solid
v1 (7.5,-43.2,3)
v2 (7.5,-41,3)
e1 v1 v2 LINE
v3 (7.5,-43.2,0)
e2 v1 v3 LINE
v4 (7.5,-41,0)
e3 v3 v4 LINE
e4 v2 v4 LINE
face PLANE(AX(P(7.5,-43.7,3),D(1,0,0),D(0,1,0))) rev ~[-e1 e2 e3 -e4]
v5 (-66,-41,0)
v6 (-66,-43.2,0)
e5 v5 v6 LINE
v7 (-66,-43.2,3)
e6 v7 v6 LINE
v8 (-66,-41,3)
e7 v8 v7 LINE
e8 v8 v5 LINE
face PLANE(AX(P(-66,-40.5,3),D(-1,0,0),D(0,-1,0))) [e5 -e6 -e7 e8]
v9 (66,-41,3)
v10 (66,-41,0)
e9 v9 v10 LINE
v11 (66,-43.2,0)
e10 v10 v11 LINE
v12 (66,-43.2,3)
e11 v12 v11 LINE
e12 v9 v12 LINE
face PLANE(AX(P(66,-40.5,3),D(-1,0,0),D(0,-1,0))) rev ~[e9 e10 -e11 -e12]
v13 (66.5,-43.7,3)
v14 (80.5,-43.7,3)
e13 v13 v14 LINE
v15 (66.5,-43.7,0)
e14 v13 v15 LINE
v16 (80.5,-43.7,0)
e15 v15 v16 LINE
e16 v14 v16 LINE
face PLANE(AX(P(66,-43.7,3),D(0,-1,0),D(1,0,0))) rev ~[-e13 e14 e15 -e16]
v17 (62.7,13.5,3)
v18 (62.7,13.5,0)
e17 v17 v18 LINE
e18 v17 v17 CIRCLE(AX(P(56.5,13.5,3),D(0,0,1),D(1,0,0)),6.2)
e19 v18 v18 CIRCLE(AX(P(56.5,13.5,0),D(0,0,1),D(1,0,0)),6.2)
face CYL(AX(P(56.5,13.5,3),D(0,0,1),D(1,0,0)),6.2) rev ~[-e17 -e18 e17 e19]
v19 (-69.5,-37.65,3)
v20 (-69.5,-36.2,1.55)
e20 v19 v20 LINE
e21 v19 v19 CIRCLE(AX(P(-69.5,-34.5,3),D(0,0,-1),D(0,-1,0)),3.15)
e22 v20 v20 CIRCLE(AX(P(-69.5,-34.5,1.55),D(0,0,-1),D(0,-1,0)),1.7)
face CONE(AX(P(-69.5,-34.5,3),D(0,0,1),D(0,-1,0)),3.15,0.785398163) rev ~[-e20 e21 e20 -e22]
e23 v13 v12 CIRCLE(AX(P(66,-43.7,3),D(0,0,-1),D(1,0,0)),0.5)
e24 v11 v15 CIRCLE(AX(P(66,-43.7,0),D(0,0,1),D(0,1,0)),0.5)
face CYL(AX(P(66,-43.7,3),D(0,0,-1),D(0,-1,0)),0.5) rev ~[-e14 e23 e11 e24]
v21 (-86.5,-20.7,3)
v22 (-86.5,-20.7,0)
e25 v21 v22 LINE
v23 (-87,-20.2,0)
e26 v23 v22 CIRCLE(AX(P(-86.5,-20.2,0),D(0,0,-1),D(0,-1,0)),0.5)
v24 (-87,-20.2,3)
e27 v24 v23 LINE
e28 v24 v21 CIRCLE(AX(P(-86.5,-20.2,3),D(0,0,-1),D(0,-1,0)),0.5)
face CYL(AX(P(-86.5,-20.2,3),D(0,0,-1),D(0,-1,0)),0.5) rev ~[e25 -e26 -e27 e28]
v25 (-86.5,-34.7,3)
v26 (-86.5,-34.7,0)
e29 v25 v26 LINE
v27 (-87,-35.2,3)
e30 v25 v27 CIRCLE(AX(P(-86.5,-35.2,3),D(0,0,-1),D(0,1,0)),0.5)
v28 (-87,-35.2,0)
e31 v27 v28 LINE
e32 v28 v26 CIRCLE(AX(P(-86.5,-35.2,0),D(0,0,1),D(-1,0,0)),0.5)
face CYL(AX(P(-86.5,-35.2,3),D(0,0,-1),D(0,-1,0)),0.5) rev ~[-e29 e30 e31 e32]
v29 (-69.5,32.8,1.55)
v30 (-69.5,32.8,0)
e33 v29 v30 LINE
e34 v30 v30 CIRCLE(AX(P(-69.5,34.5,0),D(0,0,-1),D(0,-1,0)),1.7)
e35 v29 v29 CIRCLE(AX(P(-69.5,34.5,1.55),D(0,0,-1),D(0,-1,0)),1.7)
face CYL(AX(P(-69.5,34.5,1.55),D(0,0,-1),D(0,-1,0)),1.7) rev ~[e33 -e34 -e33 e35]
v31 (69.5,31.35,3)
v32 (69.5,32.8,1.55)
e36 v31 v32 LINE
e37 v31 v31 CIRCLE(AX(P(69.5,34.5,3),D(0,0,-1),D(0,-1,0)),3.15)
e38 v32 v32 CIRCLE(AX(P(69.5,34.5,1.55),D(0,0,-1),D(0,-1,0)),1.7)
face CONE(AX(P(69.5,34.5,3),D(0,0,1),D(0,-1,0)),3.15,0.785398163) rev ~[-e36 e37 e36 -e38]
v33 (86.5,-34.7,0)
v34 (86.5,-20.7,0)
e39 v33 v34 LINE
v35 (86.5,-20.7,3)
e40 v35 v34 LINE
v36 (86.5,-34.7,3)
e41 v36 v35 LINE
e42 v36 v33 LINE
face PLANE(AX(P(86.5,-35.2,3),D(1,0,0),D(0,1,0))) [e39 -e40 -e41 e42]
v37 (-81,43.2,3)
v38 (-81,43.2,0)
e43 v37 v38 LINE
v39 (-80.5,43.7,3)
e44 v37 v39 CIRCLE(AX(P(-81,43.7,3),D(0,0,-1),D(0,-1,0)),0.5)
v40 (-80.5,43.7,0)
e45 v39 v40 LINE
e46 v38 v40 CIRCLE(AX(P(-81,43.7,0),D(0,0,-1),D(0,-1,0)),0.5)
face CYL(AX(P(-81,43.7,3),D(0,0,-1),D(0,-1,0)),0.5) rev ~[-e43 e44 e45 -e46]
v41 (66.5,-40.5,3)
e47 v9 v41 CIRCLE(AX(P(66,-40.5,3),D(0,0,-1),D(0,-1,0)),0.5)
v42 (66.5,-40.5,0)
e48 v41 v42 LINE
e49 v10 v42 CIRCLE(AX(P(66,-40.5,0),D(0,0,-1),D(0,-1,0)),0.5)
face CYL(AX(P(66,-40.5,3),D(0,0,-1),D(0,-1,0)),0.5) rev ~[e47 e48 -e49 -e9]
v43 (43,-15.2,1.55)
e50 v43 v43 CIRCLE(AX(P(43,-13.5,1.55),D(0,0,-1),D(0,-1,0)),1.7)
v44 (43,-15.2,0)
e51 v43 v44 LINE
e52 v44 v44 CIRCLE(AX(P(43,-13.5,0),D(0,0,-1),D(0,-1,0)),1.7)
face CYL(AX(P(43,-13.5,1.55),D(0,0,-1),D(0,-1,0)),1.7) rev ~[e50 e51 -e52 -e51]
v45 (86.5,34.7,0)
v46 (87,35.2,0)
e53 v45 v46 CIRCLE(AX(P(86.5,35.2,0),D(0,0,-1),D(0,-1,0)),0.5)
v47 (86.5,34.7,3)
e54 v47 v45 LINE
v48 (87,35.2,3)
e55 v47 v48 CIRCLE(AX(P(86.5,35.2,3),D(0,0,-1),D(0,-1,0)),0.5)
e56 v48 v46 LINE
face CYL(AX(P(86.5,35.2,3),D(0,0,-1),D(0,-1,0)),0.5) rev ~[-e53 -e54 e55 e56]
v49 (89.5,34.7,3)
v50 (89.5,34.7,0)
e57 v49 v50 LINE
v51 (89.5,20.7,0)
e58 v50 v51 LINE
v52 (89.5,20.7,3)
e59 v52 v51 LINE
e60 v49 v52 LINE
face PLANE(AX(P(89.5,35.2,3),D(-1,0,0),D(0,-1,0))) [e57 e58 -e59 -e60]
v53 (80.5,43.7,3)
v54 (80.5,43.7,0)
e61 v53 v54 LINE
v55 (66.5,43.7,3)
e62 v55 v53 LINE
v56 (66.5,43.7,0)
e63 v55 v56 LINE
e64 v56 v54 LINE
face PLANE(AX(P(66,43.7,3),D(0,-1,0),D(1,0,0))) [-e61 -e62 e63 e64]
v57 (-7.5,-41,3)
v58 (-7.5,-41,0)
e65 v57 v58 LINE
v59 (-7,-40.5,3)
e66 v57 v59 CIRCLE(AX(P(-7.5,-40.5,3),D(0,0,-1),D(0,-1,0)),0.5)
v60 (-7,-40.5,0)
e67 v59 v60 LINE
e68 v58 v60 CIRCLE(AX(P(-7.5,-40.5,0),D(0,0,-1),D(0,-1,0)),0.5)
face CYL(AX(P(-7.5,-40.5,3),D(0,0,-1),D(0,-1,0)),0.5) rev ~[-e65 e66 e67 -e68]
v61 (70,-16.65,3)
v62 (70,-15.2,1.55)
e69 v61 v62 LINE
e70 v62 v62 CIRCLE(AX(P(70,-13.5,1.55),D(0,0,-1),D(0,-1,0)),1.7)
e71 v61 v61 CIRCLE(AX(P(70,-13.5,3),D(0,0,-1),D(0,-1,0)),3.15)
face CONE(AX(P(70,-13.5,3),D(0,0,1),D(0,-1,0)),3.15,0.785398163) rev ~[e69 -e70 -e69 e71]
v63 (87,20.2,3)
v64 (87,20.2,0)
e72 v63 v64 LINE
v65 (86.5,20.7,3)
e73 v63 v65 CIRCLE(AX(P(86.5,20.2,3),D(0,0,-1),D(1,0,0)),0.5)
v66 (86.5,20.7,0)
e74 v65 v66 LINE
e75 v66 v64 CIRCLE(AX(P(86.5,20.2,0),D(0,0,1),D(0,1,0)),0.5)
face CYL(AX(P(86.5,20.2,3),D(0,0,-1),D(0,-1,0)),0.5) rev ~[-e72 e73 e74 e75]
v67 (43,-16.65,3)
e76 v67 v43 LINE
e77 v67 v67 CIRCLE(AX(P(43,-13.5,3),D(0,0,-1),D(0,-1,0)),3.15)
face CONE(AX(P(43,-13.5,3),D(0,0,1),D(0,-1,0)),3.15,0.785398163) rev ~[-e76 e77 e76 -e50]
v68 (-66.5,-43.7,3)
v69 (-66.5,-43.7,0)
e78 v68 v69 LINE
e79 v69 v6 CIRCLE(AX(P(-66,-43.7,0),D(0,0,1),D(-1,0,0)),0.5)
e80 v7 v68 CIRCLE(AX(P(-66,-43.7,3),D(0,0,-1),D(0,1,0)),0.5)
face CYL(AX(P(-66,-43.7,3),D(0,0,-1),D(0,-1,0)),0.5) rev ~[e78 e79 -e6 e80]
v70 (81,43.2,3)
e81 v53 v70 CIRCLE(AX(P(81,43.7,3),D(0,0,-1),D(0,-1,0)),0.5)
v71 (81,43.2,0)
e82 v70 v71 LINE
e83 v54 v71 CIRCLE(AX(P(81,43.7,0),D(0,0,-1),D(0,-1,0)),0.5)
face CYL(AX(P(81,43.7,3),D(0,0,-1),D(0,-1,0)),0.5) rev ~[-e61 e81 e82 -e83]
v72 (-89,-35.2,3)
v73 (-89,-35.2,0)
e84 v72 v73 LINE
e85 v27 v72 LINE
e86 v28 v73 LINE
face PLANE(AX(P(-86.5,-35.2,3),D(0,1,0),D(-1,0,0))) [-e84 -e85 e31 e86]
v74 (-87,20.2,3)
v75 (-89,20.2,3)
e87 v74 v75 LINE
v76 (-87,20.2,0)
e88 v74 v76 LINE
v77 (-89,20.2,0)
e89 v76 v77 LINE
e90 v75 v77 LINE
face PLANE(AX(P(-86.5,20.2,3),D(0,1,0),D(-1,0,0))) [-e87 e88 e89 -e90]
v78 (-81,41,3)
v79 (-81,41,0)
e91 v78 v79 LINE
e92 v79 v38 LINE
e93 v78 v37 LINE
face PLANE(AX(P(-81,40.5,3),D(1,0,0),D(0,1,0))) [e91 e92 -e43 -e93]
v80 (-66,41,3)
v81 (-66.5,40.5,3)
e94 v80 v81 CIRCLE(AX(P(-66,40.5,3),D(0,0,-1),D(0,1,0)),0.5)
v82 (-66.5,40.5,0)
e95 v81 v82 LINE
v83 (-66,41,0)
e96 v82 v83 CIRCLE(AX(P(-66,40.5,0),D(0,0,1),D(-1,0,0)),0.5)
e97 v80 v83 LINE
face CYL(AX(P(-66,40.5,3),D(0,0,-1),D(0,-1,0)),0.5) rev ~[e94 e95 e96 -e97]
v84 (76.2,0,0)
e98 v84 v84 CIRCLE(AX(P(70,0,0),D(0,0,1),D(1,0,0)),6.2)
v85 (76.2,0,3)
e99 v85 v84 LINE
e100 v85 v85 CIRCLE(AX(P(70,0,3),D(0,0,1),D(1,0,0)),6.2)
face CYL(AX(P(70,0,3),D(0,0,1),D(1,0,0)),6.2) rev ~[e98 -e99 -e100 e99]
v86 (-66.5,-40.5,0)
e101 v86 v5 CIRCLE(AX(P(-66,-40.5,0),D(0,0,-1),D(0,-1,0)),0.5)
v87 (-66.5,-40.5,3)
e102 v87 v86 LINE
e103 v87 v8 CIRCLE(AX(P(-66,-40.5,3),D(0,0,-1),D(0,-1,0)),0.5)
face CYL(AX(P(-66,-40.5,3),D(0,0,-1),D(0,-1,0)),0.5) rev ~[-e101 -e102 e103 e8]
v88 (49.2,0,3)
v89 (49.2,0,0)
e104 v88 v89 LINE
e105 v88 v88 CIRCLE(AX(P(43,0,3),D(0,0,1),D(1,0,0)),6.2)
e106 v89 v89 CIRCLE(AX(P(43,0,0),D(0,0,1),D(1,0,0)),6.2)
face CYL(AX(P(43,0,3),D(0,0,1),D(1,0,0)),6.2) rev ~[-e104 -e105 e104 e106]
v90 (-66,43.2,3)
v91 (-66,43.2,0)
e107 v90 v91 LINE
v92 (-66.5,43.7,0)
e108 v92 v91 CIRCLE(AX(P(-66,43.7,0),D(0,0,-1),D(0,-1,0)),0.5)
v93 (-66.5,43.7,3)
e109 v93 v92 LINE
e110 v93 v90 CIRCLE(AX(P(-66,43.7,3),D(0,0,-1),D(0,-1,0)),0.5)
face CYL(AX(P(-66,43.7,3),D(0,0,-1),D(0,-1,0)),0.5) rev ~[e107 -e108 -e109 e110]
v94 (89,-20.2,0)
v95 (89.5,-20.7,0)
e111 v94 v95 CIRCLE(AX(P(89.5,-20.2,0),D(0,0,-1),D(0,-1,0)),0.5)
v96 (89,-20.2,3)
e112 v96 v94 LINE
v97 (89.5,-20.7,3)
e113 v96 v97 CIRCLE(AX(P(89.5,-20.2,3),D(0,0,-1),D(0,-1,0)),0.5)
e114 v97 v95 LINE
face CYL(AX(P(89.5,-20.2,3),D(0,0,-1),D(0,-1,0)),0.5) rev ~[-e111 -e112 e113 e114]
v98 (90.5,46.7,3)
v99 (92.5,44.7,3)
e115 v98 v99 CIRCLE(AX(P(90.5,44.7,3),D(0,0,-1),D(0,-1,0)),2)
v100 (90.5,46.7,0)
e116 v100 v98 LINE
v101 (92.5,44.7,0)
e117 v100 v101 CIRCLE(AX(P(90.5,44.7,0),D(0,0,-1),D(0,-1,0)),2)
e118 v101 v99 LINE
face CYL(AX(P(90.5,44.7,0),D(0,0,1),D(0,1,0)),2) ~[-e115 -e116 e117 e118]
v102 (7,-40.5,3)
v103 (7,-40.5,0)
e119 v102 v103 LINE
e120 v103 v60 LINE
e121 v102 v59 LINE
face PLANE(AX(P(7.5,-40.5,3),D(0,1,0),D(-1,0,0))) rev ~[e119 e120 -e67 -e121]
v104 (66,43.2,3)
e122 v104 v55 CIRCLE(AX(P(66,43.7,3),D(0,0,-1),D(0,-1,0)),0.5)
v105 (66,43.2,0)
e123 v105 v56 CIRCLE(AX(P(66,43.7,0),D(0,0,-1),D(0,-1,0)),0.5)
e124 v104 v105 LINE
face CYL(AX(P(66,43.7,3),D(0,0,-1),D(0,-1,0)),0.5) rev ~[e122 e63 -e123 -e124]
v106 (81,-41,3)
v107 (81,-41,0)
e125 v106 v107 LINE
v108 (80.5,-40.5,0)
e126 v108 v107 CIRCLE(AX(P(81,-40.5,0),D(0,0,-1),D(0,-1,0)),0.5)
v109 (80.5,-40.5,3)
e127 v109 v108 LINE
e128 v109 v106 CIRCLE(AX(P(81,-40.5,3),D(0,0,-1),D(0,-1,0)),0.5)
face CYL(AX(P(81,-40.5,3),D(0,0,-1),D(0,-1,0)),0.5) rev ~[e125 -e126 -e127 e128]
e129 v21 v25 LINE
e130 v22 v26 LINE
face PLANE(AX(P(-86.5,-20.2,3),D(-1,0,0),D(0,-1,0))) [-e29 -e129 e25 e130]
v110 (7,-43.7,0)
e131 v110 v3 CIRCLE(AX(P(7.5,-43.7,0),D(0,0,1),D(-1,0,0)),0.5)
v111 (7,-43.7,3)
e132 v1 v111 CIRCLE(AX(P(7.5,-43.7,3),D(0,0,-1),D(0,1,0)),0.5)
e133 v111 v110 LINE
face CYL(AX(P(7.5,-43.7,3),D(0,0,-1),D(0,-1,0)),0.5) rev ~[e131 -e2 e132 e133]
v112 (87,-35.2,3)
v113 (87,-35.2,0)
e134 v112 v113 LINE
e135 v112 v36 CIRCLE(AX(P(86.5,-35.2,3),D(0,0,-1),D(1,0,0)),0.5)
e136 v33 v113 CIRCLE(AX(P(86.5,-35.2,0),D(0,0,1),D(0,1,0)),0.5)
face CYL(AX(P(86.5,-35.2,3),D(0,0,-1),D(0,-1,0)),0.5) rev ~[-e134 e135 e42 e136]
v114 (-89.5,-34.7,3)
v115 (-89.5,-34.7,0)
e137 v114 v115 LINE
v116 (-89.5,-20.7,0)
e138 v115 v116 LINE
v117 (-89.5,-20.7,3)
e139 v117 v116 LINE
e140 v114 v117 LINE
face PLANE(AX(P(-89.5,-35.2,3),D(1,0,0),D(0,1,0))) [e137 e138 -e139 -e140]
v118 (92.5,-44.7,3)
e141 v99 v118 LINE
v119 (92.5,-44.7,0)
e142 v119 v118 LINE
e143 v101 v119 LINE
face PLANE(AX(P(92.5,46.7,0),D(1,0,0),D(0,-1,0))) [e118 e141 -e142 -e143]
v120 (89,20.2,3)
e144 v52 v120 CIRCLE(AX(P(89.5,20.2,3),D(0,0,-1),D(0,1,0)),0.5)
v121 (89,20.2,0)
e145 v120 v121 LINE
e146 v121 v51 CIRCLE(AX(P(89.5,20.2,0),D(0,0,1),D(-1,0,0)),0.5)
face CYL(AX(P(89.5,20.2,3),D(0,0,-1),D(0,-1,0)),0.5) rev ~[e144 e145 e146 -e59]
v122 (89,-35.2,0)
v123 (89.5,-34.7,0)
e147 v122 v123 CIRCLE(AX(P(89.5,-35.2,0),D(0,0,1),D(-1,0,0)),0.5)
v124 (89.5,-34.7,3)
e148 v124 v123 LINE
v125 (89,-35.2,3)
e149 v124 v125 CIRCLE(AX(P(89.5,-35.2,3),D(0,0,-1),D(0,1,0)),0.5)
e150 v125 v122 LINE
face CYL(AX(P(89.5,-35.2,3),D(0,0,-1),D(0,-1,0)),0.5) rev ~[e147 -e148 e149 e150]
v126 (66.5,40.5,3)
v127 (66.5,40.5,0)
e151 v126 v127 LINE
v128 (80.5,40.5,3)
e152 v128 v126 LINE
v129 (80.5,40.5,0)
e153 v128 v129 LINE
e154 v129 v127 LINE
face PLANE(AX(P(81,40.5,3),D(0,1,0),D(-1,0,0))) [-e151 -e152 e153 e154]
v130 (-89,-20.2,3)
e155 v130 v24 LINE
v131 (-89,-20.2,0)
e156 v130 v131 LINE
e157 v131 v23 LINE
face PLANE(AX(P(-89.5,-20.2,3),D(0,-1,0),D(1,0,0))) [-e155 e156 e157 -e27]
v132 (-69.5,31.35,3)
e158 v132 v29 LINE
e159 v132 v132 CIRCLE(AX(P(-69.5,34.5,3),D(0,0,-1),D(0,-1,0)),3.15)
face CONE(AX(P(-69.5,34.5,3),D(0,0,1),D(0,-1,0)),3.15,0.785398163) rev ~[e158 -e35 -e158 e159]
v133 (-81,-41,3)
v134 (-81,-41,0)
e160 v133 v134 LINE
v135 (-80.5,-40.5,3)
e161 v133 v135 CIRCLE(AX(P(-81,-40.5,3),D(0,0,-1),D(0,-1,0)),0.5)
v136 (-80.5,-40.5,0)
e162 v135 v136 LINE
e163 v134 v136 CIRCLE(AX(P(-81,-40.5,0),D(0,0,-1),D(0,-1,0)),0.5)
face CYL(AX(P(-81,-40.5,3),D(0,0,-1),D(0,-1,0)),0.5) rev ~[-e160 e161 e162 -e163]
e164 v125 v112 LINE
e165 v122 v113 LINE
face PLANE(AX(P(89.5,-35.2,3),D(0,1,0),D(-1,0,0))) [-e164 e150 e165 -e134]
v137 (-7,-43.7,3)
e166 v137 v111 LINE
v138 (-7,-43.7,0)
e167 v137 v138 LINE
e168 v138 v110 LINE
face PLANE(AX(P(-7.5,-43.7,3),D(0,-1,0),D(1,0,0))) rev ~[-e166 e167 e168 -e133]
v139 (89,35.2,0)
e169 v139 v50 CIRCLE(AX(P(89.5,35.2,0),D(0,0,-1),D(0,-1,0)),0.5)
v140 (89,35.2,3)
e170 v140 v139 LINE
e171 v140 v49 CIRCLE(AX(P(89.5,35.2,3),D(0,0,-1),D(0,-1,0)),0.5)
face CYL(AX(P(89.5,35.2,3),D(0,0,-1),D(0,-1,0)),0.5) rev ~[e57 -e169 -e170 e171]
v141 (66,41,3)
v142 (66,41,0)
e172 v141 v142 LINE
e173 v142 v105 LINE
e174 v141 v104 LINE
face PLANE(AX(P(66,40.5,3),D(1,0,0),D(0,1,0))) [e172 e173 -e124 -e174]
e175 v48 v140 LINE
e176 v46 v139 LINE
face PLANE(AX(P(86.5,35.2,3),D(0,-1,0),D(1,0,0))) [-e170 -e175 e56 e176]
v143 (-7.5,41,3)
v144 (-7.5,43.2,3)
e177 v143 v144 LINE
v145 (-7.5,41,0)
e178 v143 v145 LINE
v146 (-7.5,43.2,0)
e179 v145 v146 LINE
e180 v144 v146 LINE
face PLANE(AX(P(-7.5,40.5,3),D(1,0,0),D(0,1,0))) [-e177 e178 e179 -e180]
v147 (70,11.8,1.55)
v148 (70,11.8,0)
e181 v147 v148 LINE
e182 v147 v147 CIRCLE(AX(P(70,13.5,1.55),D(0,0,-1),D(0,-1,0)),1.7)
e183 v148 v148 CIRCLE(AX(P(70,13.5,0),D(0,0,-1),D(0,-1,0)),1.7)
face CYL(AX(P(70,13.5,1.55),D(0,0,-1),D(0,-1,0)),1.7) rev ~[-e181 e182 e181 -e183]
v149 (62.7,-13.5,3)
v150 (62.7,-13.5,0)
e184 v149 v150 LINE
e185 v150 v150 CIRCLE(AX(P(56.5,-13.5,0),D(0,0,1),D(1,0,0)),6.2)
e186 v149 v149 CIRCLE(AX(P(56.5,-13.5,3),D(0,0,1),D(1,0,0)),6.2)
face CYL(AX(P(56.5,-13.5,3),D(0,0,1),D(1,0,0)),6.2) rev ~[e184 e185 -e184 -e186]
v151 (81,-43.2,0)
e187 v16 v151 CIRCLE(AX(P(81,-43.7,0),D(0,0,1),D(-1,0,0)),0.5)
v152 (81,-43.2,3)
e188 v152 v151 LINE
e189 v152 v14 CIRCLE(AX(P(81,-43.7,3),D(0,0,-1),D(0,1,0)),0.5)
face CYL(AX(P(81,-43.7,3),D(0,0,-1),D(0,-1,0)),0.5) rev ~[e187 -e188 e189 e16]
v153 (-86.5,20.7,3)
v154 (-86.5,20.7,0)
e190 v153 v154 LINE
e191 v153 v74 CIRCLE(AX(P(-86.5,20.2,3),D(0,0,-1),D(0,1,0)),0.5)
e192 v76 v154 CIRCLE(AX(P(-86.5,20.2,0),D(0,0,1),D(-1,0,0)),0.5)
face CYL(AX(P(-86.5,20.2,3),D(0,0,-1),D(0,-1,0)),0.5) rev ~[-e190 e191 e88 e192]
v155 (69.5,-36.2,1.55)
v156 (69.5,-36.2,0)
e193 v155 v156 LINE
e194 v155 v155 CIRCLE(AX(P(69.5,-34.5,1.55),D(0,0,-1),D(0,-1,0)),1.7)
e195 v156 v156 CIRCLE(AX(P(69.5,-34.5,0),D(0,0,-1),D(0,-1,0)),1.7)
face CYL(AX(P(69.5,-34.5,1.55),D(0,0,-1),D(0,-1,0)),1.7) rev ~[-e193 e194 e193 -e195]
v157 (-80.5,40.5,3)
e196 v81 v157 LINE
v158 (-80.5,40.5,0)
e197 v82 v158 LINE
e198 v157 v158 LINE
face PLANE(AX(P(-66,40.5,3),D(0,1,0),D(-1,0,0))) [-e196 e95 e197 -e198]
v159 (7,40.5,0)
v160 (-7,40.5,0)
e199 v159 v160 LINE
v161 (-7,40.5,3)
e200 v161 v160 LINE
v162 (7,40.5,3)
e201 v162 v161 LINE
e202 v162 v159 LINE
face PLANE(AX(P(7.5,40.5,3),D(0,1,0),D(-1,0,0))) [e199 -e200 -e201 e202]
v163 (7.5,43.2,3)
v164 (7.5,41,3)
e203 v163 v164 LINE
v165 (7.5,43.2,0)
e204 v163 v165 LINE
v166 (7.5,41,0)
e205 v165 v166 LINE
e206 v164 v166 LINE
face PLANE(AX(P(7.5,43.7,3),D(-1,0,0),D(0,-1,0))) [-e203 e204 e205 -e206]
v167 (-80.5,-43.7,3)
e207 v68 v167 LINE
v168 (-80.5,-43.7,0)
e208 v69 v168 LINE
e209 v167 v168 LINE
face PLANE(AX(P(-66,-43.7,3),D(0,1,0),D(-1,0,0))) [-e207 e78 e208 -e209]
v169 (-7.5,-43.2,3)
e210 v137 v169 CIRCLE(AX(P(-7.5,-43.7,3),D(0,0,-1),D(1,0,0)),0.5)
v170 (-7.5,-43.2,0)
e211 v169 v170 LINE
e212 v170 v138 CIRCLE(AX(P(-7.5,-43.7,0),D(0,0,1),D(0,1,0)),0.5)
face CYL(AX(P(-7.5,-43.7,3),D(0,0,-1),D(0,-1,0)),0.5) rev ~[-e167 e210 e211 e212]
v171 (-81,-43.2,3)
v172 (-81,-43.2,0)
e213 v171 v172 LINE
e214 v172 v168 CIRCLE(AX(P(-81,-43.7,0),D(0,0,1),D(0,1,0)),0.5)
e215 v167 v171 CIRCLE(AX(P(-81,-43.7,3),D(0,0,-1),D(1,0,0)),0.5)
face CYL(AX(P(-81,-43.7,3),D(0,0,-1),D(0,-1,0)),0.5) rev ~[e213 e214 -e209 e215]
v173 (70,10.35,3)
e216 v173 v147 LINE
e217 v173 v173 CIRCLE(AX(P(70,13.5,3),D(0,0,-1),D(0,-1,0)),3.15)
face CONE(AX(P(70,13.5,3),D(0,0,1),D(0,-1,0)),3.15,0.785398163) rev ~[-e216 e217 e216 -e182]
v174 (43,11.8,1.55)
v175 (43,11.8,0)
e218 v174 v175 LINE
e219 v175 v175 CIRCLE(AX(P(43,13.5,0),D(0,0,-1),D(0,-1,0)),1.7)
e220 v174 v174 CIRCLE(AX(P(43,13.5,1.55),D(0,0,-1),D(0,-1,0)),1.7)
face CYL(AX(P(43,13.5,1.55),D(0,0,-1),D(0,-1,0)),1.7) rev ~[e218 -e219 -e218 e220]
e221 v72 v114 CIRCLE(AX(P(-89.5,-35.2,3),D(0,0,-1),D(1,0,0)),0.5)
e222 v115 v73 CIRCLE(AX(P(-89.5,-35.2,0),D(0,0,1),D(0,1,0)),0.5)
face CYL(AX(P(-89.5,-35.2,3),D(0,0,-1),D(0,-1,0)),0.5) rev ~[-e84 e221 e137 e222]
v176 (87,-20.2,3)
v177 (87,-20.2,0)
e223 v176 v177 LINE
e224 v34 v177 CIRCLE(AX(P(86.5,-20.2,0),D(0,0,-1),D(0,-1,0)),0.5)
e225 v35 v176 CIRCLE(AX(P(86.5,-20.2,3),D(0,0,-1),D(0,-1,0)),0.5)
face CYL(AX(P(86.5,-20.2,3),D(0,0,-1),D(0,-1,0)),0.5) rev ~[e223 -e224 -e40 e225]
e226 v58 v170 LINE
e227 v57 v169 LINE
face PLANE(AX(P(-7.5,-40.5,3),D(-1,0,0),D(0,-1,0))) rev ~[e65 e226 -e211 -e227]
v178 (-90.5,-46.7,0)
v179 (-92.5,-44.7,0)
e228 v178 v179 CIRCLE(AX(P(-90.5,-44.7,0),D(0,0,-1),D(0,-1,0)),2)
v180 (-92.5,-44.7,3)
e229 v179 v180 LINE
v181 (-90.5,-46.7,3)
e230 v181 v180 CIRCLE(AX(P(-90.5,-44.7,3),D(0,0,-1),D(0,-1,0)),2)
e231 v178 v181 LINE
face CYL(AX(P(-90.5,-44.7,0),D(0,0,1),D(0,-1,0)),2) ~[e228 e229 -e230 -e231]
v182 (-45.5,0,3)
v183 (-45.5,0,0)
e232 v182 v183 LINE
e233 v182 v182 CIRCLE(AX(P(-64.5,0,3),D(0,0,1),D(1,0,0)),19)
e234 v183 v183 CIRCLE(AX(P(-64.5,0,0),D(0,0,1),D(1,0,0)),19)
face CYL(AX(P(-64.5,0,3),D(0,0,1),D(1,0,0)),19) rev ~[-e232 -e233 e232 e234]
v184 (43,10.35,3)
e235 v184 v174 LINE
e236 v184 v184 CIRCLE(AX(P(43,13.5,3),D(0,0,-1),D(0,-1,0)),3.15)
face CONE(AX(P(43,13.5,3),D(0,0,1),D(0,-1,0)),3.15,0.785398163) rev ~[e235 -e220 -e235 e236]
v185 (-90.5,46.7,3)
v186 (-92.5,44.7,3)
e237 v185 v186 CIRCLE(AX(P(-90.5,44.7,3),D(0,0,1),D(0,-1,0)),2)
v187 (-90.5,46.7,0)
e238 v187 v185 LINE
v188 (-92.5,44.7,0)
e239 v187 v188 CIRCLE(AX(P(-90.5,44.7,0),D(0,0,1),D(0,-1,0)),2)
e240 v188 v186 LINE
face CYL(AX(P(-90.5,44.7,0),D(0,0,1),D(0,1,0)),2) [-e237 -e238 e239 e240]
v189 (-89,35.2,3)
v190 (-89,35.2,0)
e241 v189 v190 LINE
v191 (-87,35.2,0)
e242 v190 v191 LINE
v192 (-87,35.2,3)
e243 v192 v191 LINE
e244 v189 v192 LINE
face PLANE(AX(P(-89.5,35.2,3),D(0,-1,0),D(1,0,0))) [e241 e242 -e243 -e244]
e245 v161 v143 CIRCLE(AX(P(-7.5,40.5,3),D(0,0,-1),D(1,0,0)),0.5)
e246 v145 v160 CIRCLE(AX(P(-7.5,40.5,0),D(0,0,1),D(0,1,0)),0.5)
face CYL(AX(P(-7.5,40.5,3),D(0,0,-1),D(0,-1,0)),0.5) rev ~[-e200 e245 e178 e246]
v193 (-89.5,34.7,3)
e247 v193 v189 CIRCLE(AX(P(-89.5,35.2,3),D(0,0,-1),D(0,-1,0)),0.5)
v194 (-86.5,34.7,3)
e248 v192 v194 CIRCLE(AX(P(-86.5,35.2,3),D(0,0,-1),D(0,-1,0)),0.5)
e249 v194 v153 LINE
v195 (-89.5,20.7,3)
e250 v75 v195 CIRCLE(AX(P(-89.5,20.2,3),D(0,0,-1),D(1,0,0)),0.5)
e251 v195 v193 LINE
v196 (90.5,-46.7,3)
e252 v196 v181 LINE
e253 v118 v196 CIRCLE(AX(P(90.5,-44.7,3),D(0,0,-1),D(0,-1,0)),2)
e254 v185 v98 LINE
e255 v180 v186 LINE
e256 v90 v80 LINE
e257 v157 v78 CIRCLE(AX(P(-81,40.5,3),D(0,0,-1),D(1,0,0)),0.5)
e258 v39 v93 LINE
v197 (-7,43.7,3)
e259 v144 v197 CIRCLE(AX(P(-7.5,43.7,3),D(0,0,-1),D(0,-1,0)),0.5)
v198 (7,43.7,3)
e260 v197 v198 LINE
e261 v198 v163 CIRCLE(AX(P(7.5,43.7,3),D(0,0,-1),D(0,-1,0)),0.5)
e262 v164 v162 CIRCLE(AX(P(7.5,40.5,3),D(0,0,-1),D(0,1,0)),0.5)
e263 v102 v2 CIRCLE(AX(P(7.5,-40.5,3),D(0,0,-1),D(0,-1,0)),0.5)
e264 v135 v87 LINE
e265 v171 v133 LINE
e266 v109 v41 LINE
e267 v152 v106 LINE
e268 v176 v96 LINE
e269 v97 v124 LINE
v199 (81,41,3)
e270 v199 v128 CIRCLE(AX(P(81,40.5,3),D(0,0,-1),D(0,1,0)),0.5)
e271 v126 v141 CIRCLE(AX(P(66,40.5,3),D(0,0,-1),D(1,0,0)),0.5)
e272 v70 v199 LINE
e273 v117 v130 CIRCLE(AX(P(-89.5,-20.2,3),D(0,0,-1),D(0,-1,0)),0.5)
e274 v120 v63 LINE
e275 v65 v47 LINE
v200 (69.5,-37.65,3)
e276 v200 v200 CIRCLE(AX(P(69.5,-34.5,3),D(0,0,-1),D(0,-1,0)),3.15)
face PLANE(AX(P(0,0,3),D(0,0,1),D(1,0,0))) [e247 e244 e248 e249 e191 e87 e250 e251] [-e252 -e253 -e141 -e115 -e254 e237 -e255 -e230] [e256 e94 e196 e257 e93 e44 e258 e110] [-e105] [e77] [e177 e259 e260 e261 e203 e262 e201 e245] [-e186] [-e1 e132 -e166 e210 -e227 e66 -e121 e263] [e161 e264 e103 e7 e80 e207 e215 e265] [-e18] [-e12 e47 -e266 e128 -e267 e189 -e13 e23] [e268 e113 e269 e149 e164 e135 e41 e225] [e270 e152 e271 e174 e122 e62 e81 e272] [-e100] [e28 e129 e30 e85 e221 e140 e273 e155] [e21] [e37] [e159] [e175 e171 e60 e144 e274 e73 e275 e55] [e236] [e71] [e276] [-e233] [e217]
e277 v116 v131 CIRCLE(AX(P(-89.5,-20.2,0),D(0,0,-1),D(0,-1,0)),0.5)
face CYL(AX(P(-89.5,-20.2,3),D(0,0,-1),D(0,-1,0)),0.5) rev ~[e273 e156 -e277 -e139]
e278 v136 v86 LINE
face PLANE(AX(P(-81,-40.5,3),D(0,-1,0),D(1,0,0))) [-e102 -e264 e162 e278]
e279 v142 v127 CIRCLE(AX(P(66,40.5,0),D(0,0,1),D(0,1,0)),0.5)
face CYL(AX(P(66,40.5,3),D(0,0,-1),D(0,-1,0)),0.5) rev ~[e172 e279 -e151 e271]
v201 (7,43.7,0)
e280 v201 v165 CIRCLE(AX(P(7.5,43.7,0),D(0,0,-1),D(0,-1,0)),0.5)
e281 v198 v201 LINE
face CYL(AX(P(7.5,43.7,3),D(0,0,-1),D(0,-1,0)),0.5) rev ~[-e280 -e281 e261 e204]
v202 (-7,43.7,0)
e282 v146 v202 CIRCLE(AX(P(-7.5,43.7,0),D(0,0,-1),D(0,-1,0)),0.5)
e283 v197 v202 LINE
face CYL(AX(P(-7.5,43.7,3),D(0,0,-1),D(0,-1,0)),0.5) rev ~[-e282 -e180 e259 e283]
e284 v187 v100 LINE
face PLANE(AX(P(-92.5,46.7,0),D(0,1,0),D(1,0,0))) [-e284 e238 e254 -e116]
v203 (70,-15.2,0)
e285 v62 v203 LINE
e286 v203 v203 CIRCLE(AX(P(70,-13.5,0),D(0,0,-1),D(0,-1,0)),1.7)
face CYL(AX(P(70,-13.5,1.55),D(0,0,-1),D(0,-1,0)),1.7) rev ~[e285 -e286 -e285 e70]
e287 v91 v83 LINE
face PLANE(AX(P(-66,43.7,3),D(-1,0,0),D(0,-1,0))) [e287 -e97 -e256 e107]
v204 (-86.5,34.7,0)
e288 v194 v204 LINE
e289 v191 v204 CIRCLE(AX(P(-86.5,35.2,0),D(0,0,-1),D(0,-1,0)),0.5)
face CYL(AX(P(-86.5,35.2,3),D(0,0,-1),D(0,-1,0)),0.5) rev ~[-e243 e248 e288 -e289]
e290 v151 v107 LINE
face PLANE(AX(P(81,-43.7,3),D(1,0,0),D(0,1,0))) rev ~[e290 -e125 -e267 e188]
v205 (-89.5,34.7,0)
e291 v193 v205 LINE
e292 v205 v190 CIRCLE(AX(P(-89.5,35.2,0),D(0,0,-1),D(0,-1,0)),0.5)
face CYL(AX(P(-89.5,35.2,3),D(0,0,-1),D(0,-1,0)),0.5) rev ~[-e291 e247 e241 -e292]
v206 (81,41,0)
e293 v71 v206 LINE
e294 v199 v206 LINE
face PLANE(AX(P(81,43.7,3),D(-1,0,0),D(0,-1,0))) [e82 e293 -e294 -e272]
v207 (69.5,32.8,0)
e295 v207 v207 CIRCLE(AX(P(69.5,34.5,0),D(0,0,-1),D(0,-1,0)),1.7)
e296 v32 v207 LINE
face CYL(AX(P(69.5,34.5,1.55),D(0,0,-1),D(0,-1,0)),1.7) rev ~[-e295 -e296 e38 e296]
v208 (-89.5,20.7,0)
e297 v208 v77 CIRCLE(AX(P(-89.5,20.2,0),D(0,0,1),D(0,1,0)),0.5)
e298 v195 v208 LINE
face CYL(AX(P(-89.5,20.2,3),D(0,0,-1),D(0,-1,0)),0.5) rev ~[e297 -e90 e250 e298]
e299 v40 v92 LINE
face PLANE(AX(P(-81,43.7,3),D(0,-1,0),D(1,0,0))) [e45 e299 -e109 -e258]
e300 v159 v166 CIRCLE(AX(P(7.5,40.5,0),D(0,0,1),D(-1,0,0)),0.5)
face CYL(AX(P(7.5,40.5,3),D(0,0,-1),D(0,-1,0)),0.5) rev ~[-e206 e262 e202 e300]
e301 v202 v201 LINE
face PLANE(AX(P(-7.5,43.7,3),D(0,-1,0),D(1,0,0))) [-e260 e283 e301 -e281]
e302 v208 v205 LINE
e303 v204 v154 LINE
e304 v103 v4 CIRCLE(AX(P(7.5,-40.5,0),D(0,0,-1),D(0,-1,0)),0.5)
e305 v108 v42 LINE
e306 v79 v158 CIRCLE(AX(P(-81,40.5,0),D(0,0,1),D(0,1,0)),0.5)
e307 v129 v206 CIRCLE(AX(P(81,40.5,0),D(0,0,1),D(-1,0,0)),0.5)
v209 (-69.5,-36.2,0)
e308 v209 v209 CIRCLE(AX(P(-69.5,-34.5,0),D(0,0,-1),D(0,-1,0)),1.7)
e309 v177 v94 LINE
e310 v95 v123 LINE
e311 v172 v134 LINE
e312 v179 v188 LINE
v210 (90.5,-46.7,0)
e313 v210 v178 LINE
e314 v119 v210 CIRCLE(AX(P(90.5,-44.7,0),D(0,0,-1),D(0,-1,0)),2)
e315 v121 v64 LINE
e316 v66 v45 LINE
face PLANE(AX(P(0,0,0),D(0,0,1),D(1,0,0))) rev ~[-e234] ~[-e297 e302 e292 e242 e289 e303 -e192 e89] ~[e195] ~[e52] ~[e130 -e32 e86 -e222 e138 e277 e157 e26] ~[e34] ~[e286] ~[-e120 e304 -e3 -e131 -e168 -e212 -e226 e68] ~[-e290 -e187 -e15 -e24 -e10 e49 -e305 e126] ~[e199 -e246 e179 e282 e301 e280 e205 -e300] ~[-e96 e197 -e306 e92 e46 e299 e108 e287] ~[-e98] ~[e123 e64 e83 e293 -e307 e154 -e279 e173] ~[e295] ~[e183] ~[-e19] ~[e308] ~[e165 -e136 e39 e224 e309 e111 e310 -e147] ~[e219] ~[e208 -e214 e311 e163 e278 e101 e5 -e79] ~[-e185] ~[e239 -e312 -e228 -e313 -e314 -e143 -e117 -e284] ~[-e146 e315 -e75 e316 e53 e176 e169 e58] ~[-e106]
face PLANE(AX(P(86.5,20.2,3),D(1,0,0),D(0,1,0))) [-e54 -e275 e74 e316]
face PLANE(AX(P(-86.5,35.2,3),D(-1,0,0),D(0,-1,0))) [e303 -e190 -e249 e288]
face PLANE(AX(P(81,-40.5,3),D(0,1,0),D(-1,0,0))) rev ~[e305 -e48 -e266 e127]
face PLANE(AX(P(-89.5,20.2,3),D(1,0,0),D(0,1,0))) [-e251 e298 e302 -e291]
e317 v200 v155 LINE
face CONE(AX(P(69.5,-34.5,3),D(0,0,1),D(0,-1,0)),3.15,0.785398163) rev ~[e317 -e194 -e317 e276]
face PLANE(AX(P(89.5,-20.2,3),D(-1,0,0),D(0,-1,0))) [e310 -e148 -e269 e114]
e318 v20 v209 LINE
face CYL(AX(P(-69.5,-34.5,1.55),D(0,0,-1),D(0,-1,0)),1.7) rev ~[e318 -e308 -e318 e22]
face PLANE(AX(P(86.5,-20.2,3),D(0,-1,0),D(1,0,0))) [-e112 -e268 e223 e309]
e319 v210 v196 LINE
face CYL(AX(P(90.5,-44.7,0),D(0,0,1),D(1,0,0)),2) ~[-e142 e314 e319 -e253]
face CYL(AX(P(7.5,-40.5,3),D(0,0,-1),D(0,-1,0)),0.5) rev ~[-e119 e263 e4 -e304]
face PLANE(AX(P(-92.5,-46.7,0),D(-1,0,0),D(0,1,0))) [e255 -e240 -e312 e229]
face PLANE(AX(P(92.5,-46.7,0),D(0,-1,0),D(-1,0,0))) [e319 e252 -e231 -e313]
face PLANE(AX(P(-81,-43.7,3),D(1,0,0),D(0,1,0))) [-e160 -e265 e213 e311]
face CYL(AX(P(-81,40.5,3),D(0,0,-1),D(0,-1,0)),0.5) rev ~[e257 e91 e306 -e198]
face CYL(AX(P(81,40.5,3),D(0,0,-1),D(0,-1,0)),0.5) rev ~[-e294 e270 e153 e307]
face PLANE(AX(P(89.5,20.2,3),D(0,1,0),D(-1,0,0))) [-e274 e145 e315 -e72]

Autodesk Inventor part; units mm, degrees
ref_plane "Plan YZ" through (0, 0, 0) normal (1, 0, 0) x (0, 1, 0)
ref_plane "Plan XZ" through (0, 0, 0) normal (0, 1, 0) x (-1, 0, 0)
ref_plane "Plan XY" through (0, 0, 0) normal (0, 0, 1) x (1, 0, 0)
sketch "Esquisse1" plane through (0, 0, 0) normal (0, 0, 1) x (1, 0, 0)
  line L0 (-92.5, 46.7) -> (92.5, 46.7)
  line L1 (92.5, 46.7) -> (92.5, -46.7)
  line L2 (92.5, -46.7) -> (-92.5, -46.7)
  line L3 (-92.5, -46.7) -> (-92.5, 46.7)
  line L4 (0, -65.38) -> (0, 65.38) construction
  line L5 (-129.5, 0) -> (129.5, 0) construction
  point P0 (0, 0)
  dimension "d0" = 185
  dimension "d1" = 93.4
extrude "Extrusion1" add sketch "Esquisse1" along normal blind 3
fillet "Congé1" radius 2 4 edges at (-92.5, 46.7, 1.5) (92.5, 46.7, 1.5) (92.5, -46.7, 1.5) (-92.5, -46.7, 1.5)
sketch "Esquisse21" plane through (0, 0, 3) normal (0, 0, 1) x (1, 0, 0)
  line L0 (-131.9, 0) -> (129.9, 0) construction
  line L1 (0, -65.38) -> (0, 65.38) construction
  line L2 (-7.5, 43.7) -> (7.5, 43.7)
  line L3 (7.5, 43.7) -> (7.5, 40.5)
  line L4 (7.5, 40.5) -> (-7.5, 40.5)
  line L5 (-7.5, 40.5) -> (-7.5, 43.7)
  line L6 (-90.5, 46.7) -> (90.5, 46.7) construction
  line L7 (-81, 43.7) -> (-66, 43.7)
  line L8 (-66, 43.7) -> (-66, 40.5)
  line L9 (-66, 40.5) -> (-81, 40.5)
  line L10 (-81, 40.5) -> (-81, 43.7)
  line L11 (-92.5, -44.7) -> (-92.5, 44.7) construction
  line L12 (66, 43.7) -> (81, 43.7)
  line L13 (81, 43.7) -> (81, 40.5)
  line L14 (81, 40.5) -> (66, 40.5)
  line L15 (66, 40.5) -> (66, 43.7)
  line L16 (-81, -40.5) -> (-66, -40.5)
  line L17 (-66, -40.5) -> (-66, -43.7)
  line L18 (-66, -43.7) -> (-81, -43.7)
  line L19 (-81, -43.7) -> (-81, -40.5)
  line L20 (-7.5, -43.7) -> (7.5, -43.7)
  line L21 (7.5, -43.7) -> (7.5, -40.5)
  line L22 (7.5, -40.5) -> (-7.5, -40.5)
  line L23 (-7.5, -40.5) -> (-7.5, -43.7)
  line L24 (66, -43.7) -> (81, -43.7)
  line L25 (81, -43.7) -> (81, -40.5)
  line L26 (81, -40.5) -> (66, -40.5)
  line L27 (66, -40.5) -> (66, -43.7)
  point P0 (0, 0)
  dimension "d216" = 15
  dimension "d217" = 3.2
  dimension "d218" = 3
  dimension "d221" = 11.5
extrude "Extrusion8" cut sketch "Esquisse21" against normal through all
sketch "Esquisse23" plane through (0, 0, 3) normal (0, 0, 1) x (1, 0, 0)
  line L0 (0, -65.38) -> (0, 65.38) construction
  line L1 (-129.5, 0) -> (129.5, 0) construction
  point P0 (0, 0)
  point P1 (-69.5, 34.5)
  point P2 (69.5, 34.5)
  point P3 (69.5, -34.5)
  point P4 (-69.5, -34.5)
  dimension "d238" = 139
  dimension "d239" = 69
hole "Perçage11" at (-69.5, 34.5, 3) at (69.5, 34.5, 3) at (69.5, -34.5, 3) at (-69.5, -34.5, 3) direction (0, 0, -1) diameter 3.4 end through all countersink diameter 6.3 countersink angle 90 clearance for "Vis à tête plate fraisée ISO 2009/7046" size "M3" standard "ISO"
sketch "Esquisse19" plane through (0, 0, 3) normal (0, 0, 1) x (1, 0, 0)
  circle A0 centre (-64.5, 0) radius 19
  line L0 (-92.5, -46.7) -> (-92.5, 46.7) construction
  line L1 (92.5, 46.7) -> (92.5, -46.7) construction
  circle A1 centre (43, 0) radius 6.2
  circle A2 centre (56.5, 13.5) radius 6.2
  circle A3 centre (70, 0) radius 6.2
  circle A4 centre (56.5, -13.5) radius 6.2
  line L2 (-132.3, 0) -> (132.3, 0) construction
  line L3 (56.5, 21.3668) -> (56.5, -24.5491) construction
  circle A5 centre (-69.5, -34.5) radius 1.7 construction
  point P0 (0, 0)
  dimension "d178" = 38
  dimension "d193" = 12.4
  dimension "d208" = 27
  dimension "d209" = 27
  dimension "d210" = 22.5
  dimension "d247" = 5
extrude "Extrusion7" cut sketch "Esquisse19" against normal through all
sketch "Esquisse20" plane through (0, 0, 3) normal (0, 0, 1) x (1, 0, 0)
  line L0 (-129.5, 0) -> (129.5, 0) construction
  circle A0 centre (70, 0) radius 6.2 construction
  circle A1 centre (56.5, 13.5) radius 6.2 construction
  circle A2 centre (43, 0) radius 6.2 construction
  point P0 (0, 0)
  point P1 (43, 13.5)
  point P2 (70, 13.5)
  point P3 (43, -13.5)
  point P4 (70, -13.5)
hole "Perçage8" at (43, 13.5, 3) at (70, 13.5, 3) at (43, -13.5, 3) at (70, -13.5, 3) direction (0, 0, -1) diameter 3.4 end through all countersink diameter 6.3 countersink angle 90 clearance for "Vis à tête plate fraisée ISO 2009/7046" size "M3" standard "ISO"
sketch "Esquisse24" plane through (0, 0, 3) normal (0, 0, 1) x (1, 0, 0)
  line L0 (0, -65.38) -> (0, 65.38) construction
  line L1 (-89.5, 35.2) -> (-86.5, 35.2)
  line L2 (-86.5, 35.2) -> (-86.5, 20.2)
  line L3 (-86.5, 20.2) -> (-89.5, 20.2)
  line L4 (-89.5, 20.2) -> (-89.5, 35.2)
  line L5 (-89.5, -20.2) -> (-86.5, -20.2)
  line L6 (-86.5, -20.2) -> (-86.5, -35.2)
  line L7 (-86.5, -35.2) -> (-89.5, -35.2)
  line L8 (-89.5, -35.2) -> (-89.5, -20.2)
  line L9 (89.5, -35.2) -> (86.5, -35.2)
  line L10 (86.5, -35.2) -> (86.5, -20.2)
  line L11 (86.5, -20.2) -> (89.5, -20.2)
  line L12 (89.5, -20.2) -> (89.5, -35.2)
  line L13 (86.5, 35.2) -> (89.5, 35.2)
  line L14 (89.5, 35.2) -> (89.5, 20.2)
  line L15 (89.5, 20.2) -> (86.5, 20.2)
  line L16 (86.5, 20.2) -> (86.5, 35.2)
  line L17 (-92.5, -44.7) -> (-92.5, 44.7) construction
  line L18 (-131.9, 0) -> (129.9, 0) construction
  line L19 (90.5, -46.7) -> (-90.5, -46.7) construction
  point P0 (0, 0)
  dimension "d248" = 15
  dimension "d249" = 3
  dimension "d250" = 3
  dimension "d251" = 11.5
extrude "Extrusion10" cut sketch "Esquisse24" against normal through all
sketch "Esquisse26" plane through (0, 0, 3) normal (0, 0, 1) x (1, 0, 0)
  line L0 (-89.5, 35.2) -> (-86.5, 35.2) construction
  line L1 (-89.5, 20.2) -> (-89.5, 35.2) construction
  line L2 (-86.5, 35.2) -> (-86.5, 20.2) construction
  line L3 (-86.5, 20.2) -> (-89.5, 20.2) construction
  line L4 (-66, 40.5) -> (-81, 40.5) construction
  line L5 (-81, 40.5) -> (-81, 43.7) construction
  line L6 (-81, 43.7) -> (-66, 43.7) construction
  line L7 (-66, 43.7) -> (-66, 40.5) construction
  line L8 (7.5, 40.5) -> (-7.5, 40.5) construction
  line L9 (-7.5, 40.5) -> (-7.5, 43.7) construction
  line L10 (-7.5, 43.7) -> (7.5, 43.7) construction
  line L11 (7.5, 43.7) -> (7.5, 40.5) construction
  line L12 (81, 40.5) -> (66, 40.5) construction
  line L13 (66, 40.5) -> (66, 43.7) construction
  line L14 (66, 43.7) -> (81, 43.7) construction
  line L15 (81, 43.7) -> (81, 40.5) construction
  line L16 (-89.5, -35.2) -> (-89.5, -20.2) construction
  line L17 (-89.5, -20.2) -> (-86.5, -20.2) construction
  line L18 (-86.5, -20.2) -> (-86.5, -35.2) construction
  line L19 (-86.5, -35.2) -> (-89.5, -35.2) construction
  line L20 (-81, -40.5) -> (-66, -40.5) construction
  line L21 (-81, -43.7) -> (-81, -40.5) construction
  line L22 (-66, -43.7) -> (-81, -43.7) construction
  line L23 (-66, -40.5) -> (-66, -43.7) construction
  line L24 (89.5, -20.2) -> (89.5, -35.2) construction
  line L25 (89.5, -35.2) -> (86.5, -35.2) construction
  line L26 (86.5, -35.2) -> (86.5, -20.2) construction
  line L27 (86.5, -20.2) -> (89.5, -20.2) construction
  line L28 (-89.5, 20.2) -> (-89.5, 35.2) construction
  line L29 (-89.5, 35.2) -> (-86.5, 35.2) construction
  line L30 (-86.5, 35.2) -> (-86.5, 20.2) construction
  line L31 (-86.5, 20.2) -> (-89.5, 20.2) construction
  line L32 (-89.5, -35.2) -> (-89.5, -20.2) construction
  line L33 (-89.5, -20.2) -> (-86.5, -20.2) construction
  line L34 (-86.5, -20.2) -> (-86.5, -35.2) construction
  line L35 (-86.5, -35.2) -> (-89.5, -35.2) construction
  line L36 (86.5, 20.2) -> (86.5, 35.2) construction
  line L37 (86.5, 35.2) -> (89.5, 35.2) construction
  line L38 (89.5, 35.2) -> (89.5, 20.2) construction
  line L39 (89.5, 20.2) -> (86.5, 20.2) construction
  circle A0 centre (43, -13.5) radius 3.15 construction
  circle A1 centre (43, 13.5) radius 3.15 construction
  circle A2 centre (70, 13.5) radius 3.15 construction
  circle A3 centre (70, -13.5) radius 3.15 construction
  circle A4 centre (56.5, -13.5) radius 6.2 construction
  circle A5 centre (56.5, 13.5) radius 6.2 construction
  circle A6 centre (43, 0) radius 6.2 construction
  circle A7 centre (70, 0) radius 6.2 construction
  circle A8 centre (-64.5, 0) radius 19 construction
  circle A9 centre (69.5, -34.5) radius 3.15 construction
  circle A10 centre (-69.5, 34.5) radius 3.15 construction
  circle A11 centre (69.5, 34.5) radius 3.15 construction
  circle A12 centre (-69.5, -34.5) radius 3.15 construction
  line L40 (7.5, -40.5) -> (7.5, -43.7) construction
  line L41 (7.5, -43.7) -> (-7.5, -43.7) construction
  line L42 (-7.5, -43.7) -> (-7.5, -40.5) construction
  line L43 (-7.5, -40.5) -> (7.5, -40.5) construction
  line L44 (66, 40.5) -> (66, 43.7) construction
  line L45 (66, 43.7) -> (81, 43.7) construction
  line L46 (81, 43.7) -> (81, 40.5) construction
  line L47 (81, 40.5) -> (66, 40.5) construction
  line L48 (-7.5, 40.5) -> (-7.5, 43.7) construction
  line L49 (-7.5, 43.7) -> (7.5, 43.7) construction
  line L50 (7.5, 43.7) -> (7.5, 40.5) construction
  line L51 (7.5, 40.5) -> (-7.5, 40.5) construction
  line L52 (-81, 40.5) -> (-81, 43.7) construction
  line L53 (-81, 43.7) -> (-66, 43.7) construction
  line L54 (-66, 43.7) -> (-66, 40.5) construction
  line L55 (-66, 40.5) -> (-81, 40.5) construction
  line L56 (-81, -43.7) -> (-81, -40.5) construction
  line L57 (-81, -40.5) -> (-66, -40.5) construction
  line L58 (-66, -40.5) -> (-66, -43.7) construction
  line L59 (-66, -43.7) -> (-81, -43.7) construction
  line L60 (81, -40.5) -> (81, -43.7) construction
  line L61 (81, -43.7) -> (66, -43.7) construction
  line L62 (66, -43.7) -> (66, -40.5) construction
  line L63 (66, -40.5) -> (81, -40.5) construction
  arc A13 (-92.5, -44.7) -> (-90.5, -46.7) centre (-90.5, -44.7) ccw construction
  line L64 (90.5, -46.7) -> (-90.5, -46.7) construction
  arc A14 (90.5, -46.7) -> (92.5, -44.7) centre (90.5, -44.7) ccw construction
  line L65 (92.5, 44.7) -> (92.5, -44.7) construction
  arc A15 (92.5, 44.7) -> (90.5, 46.7) centre (90.5, 44.7) ccw construction
  line L66 (-90.5, 46.7) -> (90.5, 46.7) construction
  arc A16 (-90.5, 46.7) -> (-92.5, 44.7) centre (-90.5, 44.7) ccw construction
  line L67 (-92.5, -44.7) -> (-92.5, 44.7) construction
  point P0 (0, 0)
hole "Perçage12" at (-81, 40.5, 3) at (-81, 43.7, 3) at (-66, 40.5, 3) at (-66, 43.7, 3) at (-86.5, 35.2, 3) at (-89.5, 35.2, 3) at (-89.5, 20.2, 3) at (-86.5, 20.2, 3) at (-86.5, -20.2, 3) at (-89.5, -20.2, 3) at (-89.5, -35.2, 3) at (-86.5, -35.2, 3) at (-81, -40.5, 3) at (-81, -43.7, 3) at (-66, -43.7, 3) at (-66, -40.5, 3) at (-7.5, -43.7, 3) at (-7.5, -40.5, 3) at (7.5, -40.5, 3) at (7.5, -43.7, 3) at (66, -43.7, 3) at (66, -40.5, 3) at (81, -40.5, 3) at (81, -43.7, 3) at (86.5, -35.2, 3) at (86.5, -20.2, 3) at (89.5, -20.2, 3) at (89.5, -35.2, 3) at (86.5, 20.2, 3) at (89.5, 20.2, 3) at (86.5, 35.2, 3) at (89.5, 35.2, 3) at (81, 40.5, 3) at (66, 43.7, 3) at (66, 40.5, 3) at (81, 43.7, 3) at (-7.5, 43.7, 3) at (-7.5, 40.5, 3) at (7.5, 40.5, 3) at (7.5, 43.7, 3) direction (0, 0, -1) diameter 1 end through all
properties part number "P1704_201" material "Plastique PMMA"
